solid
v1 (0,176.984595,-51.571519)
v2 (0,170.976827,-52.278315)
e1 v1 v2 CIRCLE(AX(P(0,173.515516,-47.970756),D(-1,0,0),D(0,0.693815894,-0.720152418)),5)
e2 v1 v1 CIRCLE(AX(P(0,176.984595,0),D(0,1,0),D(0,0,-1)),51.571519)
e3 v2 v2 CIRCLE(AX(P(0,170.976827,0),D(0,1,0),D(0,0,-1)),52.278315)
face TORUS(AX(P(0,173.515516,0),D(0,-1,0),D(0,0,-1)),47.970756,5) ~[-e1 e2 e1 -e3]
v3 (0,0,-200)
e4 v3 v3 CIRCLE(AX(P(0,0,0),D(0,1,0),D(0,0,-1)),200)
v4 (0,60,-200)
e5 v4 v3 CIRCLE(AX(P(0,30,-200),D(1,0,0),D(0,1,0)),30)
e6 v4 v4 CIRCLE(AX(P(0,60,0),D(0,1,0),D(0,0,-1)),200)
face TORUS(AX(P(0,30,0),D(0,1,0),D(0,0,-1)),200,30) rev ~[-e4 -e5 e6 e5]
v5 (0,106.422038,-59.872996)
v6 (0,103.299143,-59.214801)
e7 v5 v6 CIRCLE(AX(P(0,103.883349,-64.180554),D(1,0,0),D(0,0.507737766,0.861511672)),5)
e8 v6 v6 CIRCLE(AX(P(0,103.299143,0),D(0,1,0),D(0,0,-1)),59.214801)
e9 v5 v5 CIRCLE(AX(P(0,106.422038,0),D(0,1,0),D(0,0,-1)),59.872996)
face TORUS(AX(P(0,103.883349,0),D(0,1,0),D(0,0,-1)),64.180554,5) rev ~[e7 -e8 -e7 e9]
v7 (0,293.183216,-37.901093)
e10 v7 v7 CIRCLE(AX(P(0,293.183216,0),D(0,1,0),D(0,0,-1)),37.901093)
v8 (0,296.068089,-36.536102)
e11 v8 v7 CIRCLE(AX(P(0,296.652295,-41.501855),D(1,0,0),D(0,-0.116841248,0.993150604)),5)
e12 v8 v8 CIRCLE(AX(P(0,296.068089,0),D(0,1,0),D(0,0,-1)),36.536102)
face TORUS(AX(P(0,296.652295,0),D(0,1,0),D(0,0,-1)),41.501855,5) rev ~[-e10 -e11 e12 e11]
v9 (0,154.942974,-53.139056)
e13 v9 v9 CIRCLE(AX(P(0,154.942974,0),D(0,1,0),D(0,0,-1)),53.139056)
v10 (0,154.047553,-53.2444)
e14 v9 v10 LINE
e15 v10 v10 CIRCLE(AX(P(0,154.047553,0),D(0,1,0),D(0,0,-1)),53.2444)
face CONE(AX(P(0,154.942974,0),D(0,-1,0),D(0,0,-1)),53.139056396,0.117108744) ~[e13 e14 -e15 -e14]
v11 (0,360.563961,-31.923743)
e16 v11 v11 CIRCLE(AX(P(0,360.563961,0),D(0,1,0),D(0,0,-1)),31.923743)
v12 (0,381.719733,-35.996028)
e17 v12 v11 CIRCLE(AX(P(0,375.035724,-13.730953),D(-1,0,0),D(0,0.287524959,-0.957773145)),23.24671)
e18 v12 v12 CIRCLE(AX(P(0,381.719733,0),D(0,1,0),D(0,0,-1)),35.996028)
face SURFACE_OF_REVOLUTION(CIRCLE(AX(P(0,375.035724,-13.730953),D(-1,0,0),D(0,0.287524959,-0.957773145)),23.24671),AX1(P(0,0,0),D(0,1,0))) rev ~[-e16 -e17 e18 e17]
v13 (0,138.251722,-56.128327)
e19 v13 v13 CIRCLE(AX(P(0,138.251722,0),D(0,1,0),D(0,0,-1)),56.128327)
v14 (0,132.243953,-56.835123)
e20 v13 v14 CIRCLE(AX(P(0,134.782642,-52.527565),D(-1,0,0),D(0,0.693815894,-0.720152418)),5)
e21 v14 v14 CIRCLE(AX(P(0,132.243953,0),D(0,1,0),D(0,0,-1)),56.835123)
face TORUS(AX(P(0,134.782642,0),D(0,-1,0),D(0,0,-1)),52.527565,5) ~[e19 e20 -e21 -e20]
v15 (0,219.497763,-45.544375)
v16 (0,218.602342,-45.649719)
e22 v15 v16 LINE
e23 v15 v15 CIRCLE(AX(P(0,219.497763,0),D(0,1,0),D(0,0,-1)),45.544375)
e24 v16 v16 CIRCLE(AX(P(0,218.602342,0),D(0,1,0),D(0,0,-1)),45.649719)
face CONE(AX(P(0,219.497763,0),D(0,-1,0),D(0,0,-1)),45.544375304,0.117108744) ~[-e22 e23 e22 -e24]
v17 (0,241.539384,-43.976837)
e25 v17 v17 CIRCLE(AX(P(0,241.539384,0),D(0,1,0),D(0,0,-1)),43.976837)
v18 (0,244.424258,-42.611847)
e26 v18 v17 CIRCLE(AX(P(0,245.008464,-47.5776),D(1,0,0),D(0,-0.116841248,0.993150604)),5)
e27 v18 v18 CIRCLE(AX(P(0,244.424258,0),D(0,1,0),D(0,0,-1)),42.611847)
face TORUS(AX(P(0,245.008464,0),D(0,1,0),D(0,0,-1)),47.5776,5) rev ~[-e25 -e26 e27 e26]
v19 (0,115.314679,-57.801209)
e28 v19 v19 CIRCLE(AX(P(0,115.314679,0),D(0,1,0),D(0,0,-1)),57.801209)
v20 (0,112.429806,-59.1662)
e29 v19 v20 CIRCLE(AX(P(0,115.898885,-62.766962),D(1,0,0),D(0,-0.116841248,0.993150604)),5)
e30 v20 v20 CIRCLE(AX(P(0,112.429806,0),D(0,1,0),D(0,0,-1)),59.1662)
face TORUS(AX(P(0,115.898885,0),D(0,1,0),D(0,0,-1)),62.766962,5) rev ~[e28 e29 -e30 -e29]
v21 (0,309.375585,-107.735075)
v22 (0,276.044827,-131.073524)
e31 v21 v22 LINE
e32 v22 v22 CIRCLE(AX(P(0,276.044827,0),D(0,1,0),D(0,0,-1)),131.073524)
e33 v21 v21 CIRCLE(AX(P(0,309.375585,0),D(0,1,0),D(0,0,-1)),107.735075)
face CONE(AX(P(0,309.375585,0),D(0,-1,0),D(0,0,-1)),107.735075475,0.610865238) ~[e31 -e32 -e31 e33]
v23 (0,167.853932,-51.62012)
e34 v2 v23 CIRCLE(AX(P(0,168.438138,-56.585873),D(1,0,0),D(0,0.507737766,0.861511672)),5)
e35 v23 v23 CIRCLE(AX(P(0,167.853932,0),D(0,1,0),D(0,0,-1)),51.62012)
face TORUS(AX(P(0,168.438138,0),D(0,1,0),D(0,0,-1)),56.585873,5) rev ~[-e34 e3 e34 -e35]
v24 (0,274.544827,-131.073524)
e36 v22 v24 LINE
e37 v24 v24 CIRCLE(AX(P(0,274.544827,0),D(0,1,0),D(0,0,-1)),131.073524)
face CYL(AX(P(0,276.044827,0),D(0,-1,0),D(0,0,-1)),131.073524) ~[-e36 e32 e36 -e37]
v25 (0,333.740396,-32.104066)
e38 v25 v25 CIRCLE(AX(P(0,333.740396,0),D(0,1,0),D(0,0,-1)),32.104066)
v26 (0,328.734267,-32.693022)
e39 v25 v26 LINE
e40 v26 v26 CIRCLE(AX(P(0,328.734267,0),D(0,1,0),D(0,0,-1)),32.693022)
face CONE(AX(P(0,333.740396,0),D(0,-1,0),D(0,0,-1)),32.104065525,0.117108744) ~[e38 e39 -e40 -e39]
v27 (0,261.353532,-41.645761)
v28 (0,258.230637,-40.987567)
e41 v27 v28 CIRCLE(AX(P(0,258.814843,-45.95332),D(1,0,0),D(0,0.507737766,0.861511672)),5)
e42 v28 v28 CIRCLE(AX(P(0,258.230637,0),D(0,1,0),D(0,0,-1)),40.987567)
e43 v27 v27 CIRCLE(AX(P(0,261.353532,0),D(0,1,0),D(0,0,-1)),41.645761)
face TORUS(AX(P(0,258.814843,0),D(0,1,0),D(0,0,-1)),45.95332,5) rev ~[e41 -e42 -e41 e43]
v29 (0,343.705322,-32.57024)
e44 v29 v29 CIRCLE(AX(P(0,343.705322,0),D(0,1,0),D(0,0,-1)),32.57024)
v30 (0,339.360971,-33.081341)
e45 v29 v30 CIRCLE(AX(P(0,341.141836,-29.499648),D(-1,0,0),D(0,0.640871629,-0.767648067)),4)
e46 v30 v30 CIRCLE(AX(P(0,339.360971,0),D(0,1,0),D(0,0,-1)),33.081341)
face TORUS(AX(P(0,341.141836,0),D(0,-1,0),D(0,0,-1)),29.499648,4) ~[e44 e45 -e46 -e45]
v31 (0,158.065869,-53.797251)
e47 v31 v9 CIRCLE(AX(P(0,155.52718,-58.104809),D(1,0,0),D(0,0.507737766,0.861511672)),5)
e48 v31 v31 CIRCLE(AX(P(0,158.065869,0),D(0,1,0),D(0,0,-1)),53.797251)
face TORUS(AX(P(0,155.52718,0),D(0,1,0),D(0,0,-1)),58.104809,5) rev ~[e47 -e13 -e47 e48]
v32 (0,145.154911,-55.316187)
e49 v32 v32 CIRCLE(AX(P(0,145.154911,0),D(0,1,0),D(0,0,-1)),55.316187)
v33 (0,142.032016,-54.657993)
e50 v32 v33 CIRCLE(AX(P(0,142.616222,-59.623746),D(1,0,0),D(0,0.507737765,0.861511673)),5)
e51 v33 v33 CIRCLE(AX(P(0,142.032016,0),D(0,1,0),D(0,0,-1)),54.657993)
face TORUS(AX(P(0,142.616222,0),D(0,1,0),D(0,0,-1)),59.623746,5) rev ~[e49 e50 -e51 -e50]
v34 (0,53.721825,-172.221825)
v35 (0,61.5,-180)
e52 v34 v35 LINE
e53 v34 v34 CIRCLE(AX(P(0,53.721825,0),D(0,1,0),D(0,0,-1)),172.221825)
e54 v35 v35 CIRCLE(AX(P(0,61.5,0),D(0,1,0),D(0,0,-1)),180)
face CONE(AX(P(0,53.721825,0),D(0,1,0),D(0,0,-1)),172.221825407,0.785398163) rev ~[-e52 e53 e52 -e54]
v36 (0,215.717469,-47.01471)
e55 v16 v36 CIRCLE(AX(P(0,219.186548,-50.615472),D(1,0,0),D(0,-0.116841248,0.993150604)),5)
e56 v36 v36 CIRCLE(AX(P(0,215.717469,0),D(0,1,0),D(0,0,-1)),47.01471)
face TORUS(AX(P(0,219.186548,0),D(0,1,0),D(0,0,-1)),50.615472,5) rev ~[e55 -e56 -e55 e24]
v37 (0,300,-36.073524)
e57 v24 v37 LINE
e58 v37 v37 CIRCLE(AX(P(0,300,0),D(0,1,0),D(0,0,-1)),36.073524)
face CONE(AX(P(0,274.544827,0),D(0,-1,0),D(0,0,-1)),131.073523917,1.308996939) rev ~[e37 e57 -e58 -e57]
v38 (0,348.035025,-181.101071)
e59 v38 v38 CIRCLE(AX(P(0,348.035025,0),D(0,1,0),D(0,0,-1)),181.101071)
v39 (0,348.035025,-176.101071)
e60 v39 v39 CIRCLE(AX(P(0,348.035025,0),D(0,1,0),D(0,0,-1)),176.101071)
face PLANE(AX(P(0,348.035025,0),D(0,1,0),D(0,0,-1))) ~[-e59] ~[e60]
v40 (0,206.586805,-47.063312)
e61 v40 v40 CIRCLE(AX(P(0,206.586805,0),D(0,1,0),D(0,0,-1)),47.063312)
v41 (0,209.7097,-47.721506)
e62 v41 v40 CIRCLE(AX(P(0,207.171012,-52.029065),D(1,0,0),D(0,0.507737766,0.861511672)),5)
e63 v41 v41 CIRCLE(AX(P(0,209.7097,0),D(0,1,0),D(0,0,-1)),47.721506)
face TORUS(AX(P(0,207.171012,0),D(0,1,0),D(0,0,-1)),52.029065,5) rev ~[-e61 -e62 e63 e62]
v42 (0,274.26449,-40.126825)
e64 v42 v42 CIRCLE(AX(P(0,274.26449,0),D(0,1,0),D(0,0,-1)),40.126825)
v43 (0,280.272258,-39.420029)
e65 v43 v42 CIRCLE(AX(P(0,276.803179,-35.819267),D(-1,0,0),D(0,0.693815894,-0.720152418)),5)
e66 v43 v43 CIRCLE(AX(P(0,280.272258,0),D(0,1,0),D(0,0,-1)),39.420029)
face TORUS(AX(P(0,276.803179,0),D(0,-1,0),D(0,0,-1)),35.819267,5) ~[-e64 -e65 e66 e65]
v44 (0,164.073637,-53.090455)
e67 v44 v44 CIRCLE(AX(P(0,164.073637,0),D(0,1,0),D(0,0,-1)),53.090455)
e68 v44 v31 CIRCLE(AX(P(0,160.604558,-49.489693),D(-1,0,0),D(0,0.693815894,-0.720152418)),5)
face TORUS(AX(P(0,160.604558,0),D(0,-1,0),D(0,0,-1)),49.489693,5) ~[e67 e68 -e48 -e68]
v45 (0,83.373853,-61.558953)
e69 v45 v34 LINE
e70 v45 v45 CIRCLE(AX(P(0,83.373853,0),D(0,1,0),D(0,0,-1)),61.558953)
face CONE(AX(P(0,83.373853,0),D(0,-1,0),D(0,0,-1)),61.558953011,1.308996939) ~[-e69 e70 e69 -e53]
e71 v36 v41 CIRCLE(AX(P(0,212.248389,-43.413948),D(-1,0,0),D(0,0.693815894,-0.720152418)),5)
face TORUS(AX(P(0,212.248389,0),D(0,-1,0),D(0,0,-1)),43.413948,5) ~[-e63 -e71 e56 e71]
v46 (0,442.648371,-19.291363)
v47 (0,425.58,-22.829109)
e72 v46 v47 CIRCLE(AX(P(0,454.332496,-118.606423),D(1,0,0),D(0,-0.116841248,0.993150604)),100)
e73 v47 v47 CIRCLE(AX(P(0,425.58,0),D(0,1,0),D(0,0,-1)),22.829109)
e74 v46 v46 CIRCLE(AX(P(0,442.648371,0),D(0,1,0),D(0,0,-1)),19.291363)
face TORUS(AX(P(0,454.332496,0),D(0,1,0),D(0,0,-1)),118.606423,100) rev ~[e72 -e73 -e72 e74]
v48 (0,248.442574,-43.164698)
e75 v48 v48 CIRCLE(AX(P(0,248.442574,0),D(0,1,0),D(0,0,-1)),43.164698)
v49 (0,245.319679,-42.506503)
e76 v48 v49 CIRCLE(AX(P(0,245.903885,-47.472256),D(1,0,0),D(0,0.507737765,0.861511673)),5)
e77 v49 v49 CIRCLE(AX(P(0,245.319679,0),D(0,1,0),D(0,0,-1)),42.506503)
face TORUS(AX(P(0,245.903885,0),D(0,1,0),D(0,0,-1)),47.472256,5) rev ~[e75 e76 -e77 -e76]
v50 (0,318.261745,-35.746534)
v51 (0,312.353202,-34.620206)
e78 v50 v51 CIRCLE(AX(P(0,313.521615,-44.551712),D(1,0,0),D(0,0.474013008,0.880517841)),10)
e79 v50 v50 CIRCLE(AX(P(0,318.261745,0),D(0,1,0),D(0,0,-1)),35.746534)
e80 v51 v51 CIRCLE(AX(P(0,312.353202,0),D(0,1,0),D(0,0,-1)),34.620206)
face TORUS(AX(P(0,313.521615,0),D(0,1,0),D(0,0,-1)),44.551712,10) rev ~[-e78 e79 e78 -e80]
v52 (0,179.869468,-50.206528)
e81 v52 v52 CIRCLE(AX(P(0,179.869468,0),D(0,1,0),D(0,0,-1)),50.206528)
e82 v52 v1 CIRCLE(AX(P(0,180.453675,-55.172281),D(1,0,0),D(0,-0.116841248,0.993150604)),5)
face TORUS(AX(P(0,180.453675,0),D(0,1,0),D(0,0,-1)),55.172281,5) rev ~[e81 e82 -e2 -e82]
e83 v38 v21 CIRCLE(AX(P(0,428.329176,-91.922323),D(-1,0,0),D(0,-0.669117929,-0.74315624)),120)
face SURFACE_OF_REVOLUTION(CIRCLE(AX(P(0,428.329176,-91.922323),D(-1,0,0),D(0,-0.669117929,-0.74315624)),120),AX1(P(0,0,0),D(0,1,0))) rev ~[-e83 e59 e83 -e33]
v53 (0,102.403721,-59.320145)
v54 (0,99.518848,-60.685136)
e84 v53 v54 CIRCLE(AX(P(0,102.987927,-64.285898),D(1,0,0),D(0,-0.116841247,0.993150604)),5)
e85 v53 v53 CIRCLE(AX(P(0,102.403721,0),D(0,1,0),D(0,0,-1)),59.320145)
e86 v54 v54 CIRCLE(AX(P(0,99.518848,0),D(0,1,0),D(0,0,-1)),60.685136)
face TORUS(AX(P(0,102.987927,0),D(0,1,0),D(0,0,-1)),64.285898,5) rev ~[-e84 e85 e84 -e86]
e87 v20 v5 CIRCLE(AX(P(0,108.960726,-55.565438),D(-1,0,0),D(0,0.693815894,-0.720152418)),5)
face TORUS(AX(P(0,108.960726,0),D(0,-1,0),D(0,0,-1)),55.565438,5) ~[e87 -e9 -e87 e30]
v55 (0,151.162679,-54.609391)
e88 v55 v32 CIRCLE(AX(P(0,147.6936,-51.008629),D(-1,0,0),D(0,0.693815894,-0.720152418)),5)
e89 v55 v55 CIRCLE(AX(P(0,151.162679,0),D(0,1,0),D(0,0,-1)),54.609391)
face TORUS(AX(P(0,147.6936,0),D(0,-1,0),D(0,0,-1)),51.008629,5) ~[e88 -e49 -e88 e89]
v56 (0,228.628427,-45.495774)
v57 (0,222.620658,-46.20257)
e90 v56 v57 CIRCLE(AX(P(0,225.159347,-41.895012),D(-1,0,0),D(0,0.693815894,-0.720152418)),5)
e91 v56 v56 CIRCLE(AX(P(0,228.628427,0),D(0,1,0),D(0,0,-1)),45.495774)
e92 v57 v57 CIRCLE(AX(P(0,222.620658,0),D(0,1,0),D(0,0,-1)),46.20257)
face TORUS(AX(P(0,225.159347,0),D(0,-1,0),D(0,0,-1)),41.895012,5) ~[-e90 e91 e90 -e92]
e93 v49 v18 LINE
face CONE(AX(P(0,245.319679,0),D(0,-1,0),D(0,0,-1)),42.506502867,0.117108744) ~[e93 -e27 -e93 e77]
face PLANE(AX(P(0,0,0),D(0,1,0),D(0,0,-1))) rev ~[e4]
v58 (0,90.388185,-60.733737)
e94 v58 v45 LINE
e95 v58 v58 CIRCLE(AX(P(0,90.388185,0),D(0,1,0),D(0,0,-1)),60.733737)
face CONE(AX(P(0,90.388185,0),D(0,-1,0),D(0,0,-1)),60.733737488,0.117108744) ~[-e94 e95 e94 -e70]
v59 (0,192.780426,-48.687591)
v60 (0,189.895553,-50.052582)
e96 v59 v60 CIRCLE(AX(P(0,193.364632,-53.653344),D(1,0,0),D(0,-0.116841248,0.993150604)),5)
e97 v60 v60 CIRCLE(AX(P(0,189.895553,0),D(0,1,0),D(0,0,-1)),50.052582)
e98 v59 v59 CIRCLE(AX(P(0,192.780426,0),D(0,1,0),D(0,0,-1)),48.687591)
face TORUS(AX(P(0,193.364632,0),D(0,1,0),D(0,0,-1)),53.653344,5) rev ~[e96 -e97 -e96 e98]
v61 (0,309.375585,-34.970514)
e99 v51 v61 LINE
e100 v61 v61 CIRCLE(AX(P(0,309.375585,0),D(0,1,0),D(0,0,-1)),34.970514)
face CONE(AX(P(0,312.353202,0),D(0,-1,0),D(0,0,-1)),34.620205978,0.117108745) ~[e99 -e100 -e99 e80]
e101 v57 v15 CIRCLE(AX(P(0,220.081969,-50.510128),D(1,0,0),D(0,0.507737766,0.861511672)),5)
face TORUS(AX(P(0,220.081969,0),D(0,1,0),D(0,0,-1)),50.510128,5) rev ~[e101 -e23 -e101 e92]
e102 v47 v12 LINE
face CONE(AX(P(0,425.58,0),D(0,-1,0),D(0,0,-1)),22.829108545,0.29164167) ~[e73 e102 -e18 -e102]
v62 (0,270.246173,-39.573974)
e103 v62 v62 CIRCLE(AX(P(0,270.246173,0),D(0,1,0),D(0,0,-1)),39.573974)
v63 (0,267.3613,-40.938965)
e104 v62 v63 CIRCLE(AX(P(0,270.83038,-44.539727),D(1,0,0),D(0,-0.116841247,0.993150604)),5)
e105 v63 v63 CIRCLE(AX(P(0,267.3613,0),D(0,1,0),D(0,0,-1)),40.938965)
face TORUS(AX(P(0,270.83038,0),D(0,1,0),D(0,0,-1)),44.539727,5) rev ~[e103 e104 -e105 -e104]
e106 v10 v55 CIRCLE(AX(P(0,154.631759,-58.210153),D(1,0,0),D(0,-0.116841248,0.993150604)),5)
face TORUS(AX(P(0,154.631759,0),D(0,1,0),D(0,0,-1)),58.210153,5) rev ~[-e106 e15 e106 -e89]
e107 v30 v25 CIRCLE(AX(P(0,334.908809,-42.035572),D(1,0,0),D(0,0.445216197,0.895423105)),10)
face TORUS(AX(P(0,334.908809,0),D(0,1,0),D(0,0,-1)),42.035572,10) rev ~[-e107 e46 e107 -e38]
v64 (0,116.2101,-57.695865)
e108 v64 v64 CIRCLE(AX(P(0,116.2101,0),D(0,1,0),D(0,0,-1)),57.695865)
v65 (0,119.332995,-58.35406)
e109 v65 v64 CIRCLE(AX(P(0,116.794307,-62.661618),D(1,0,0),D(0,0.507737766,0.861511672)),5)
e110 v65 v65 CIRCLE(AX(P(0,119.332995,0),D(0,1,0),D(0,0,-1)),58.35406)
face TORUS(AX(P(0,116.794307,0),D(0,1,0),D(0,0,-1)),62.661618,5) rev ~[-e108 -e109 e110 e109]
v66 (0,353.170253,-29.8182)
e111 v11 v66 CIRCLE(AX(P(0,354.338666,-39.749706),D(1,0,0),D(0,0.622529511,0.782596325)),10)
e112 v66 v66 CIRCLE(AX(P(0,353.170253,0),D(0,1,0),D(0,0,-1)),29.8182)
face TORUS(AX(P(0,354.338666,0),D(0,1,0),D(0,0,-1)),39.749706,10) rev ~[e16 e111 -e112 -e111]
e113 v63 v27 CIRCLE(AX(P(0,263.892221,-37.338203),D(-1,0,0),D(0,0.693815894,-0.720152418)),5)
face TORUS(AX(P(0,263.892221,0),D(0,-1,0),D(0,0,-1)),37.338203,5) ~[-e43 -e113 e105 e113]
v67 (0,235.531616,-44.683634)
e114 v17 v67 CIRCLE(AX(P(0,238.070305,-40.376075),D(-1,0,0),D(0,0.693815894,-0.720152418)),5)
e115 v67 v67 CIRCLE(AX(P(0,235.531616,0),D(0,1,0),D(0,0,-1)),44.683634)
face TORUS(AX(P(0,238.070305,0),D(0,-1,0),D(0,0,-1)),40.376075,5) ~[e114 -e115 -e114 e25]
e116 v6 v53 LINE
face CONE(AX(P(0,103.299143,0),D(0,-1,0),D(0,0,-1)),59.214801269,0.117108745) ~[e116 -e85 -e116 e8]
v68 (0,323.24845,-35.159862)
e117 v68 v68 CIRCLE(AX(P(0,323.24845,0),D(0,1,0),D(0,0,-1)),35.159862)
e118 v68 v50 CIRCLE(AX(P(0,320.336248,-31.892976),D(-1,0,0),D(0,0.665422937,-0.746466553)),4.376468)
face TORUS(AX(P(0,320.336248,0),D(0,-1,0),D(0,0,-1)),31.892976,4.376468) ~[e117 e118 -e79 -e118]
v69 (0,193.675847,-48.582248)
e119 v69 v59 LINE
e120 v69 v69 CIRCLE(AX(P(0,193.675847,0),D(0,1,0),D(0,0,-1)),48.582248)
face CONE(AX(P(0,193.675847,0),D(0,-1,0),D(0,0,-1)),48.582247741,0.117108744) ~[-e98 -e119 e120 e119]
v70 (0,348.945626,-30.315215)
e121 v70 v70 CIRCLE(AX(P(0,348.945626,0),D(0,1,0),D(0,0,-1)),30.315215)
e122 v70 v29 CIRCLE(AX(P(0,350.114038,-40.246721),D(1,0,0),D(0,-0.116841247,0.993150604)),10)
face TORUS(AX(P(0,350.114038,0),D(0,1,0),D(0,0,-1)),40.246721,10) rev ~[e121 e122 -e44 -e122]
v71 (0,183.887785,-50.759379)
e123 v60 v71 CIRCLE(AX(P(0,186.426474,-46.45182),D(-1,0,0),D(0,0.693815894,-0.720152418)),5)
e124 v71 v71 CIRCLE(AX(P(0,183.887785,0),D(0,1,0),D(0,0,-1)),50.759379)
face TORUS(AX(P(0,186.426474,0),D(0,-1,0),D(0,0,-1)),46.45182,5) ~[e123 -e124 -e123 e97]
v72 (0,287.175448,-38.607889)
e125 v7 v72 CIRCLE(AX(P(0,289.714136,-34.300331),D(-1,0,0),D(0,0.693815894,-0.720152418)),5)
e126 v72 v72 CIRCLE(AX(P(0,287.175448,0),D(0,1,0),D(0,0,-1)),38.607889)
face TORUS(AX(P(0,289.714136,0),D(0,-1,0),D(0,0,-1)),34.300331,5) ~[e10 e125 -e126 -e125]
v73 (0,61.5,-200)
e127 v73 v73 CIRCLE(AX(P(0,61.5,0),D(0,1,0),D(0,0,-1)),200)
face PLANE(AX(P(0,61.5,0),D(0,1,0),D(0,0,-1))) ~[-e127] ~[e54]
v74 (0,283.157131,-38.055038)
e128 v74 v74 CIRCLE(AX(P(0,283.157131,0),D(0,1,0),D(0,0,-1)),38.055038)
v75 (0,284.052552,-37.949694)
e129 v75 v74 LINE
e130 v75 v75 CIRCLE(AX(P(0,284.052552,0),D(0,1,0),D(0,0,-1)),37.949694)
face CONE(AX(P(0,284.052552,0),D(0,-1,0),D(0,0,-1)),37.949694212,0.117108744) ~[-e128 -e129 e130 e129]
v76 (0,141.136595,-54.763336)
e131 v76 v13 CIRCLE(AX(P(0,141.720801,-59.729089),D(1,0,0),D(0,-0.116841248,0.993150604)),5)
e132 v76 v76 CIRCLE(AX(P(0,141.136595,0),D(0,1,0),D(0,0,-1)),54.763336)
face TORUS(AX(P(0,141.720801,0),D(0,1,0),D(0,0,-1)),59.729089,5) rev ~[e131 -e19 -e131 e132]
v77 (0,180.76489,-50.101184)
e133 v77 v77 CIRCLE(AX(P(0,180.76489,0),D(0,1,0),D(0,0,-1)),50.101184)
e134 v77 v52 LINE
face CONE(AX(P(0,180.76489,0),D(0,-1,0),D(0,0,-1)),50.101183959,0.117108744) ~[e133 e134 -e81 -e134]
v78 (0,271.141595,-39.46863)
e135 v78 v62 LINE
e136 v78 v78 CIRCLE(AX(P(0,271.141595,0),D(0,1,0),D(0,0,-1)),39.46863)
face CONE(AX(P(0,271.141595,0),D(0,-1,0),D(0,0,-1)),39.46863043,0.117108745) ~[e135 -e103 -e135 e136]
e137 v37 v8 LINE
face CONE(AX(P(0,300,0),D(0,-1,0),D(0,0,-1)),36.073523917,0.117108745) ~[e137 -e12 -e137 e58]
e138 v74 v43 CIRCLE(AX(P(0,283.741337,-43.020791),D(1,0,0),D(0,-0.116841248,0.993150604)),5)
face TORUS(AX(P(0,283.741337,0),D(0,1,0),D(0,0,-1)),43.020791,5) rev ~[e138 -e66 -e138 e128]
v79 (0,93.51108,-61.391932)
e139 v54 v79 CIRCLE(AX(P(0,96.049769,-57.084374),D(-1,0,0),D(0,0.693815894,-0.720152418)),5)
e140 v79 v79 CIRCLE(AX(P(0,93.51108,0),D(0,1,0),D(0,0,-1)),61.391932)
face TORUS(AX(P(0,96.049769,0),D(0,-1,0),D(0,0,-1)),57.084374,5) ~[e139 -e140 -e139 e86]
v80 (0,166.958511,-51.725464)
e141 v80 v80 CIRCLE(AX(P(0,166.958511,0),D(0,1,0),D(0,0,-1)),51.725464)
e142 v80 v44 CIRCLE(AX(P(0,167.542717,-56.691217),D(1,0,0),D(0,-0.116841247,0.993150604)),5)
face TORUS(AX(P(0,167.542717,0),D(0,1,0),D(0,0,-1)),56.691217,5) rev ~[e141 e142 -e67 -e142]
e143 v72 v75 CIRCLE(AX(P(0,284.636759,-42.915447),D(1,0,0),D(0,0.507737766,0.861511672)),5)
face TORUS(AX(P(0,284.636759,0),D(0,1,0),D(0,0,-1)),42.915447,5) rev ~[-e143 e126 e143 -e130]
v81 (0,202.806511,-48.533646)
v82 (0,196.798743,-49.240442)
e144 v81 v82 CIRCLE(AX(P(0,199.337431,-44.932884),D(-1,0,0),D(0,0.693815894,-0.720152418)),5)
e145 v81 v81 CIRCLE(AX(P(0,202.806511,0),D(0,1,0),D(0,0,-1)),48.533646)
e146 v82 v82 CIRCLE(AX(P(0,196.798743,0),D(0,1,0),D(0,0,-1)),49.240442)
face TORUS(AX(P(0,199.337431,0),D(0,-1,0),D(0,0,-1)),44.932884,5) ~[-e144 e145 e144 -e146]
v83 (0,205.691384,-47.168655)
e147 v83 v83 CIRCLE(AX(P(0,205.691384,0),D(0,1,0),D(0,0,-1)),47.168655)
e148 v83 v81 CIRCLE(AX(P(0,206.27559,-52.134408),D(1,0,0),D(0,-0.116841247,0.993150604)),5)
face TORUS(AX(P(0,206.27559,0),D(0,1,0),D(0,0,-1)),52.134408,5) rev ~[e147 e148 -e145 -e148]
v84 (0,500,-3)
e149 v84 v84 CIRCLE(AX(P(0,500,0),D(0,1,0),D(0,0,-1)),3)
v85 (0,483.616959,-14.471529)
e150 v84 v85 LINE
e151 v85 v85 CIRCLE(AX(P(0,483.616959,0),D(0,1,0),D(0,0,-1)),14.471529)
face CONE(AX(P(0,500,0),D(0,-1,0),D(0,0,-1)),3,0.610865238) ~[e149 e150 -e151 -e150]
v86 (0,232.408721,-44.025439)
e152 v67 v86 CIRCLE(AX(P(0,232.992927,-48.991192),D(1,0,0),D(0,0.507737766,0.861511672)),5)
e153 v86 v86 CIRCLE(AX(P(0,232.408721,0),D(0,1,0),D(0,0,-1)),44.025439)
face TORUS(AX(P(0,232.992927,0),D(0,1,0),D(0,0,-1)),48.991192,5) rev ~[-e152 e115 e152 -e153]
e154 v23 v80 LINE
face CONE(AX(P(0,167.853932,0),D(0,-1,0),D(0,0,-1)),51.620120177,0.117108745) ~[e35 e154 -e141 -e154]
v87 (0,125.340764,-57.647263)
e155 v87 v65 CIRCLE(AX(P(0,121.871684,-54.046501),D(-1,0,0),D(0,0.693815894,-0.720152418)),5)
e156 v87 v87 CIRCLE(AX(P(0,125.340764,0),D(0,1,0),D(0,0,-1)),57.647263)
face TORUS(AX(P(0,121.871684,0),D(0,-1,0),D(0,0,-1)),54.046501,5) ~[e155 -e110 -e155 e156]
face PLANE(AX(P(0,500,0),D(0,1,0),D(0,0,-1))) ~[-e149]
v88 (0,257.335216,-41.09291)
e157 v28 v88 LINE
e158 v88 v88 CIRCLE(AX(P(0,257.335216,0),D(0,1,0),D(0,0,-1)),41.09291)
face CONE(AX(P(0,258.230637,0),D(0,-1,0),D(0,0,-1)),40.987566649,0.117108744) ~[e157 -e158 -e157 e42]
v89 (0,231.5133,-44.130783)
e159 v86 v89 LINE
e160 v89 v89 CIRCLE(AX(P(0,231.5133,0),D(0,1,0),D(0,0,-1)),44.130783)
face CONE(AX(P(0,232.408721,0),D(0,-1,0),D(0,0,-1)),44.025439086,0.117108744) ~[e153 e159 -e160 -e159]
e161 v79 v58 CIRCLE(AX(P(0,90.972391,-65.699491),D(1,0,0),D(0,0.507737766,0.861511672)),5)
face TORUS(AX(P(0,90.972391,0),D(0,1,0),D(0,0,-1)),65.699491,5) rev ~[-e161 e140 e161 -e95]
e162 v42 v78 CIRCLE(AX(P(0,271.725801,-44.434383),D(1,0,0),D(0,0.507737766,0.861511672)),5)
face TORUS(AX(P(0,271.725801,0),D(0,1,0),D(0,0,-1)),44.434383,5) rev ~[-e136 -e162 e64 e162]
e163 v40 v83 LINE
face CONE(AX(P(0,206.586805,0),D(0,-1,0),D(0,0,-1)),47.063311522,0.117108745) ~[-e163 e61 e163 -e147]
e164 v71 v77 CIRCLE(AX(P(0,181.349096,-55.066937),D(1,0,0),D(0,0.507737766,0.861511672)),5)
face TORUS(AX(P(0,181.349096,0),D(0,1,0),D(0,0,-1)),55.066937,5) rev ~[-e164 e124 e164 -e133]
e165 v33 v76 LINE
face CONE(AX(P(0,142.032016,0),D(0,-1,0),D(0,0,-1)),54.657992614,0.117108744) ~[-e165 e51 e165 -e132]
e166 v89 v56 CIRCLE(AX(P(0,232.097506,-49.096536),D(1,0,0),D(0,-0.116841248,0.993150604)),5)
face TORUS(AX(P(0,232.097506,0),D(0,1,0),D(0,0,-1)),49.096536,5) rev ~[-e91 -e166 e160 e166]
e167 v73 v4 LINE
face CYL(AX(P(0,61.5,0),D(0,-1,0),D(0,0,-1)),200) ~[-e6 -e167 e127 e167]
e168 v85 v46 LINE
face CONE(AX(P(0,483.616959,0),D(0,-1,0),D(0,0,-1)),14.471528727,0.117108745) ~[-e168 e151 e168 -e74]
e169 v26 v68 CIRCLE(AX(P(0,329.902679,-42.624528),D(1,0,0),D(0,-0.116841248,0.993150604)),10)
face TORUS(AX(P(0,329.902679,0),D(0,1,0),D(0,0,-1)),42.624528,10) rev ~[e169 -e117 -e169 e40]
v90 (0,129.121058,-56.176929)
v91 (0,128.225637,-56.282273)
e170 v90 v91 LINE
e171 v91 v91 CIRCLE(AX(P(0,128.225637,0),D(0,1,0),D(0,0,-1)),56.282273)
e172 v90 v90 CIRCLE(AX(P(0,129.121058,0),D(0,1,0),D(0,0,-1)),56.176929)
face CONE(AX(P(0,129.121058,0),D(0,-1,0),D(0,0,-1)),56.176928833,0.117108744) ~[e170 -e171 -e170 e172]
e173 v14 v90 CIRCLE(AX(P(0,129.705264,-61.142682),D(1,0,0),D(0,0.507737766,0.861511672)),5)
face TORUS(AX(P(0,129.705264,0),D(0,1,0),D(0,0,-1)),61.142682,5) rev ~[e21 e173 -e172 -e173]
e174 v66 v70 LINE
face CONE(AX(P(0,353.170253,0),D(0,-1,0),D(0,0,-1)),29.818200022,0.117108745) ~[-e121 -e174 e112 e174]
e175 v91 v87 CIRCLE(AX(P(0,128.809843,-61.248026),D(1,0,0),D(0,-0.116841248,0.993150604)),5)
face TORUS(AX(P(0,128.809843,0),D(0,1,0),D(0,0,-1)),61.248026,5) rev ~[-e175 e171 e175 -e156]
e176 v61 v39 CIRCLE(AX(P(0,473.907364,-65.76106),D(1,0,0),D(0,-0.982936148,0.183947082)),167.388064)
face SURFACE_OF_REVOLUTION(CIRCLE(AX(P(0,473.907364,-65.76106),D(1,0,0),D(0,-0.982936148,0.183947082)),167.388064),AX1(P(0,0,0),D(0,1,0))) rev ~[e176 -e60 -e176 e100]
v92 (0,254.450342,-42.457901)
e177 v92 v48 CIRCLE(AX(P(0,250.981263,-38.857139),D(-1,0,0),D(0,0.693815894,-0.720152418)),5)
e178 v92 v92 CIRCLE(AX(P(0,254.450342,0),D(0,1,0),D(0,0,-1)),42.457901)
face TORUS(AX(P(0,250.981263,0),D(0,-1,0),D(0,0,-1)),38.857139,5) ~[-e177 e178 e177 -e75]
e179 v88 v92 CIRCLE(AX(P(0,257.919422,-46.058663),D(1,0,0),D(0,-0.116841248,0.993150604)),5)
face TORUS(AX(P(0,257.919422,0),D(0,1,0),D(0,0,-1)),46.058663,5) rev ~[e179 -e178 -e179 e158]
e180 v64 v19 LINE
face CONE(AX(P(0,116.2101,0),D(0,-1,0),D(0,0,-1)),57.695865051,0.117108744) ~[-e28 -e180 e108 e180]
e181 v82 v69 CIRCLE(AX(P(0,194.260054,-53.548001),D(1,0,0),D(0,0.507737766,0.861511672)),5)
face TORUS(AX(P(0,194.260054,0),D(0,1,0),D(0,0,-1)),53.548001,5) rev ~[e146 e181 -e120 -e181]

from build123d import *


with BuildPart() as part:
    # Sketch1 → Revolve3 (revolve)
    with BuildSketch(Plane.XY, mode=Mode.PRIVATE) as revolve3_sk:
        with BuildLine():
            Line((0, 0), (0, 500))
            Line((0, 500), (3, 500))
            Line((3, 500), (14.471528727, 483.616959114))
            Line((14.471528727, 483.616959114), (19.291362646, 442.648370803))
            ThreePointArc((19.291362646, 442.648370803), (20.687625006, 434.036954568), (22.829108545, 425.579999653))
            Line((22.829108545, 425.579999653), (35.996027532, 381.719732868))
            ThreePointArc((35.996027532, 381.719732868), (36.558597905, 370.641619324), (31.923742819, 360.563960694))
            ThreePointArc((31.923742819, 360.563960694), (30.132083861, 357.077523576), (29.818200022, 353.170253104))
            Line((29.818200022, 353.170253104), (30.315214989, 348.945625892))
            ThreePointArc((30.315214989, 348.945625892), (31.061107548, 346.161253914), (32.570240359, 343.705322078))
            ThreePointArc((32.570240359, 343.705322078), (33.472250507, 341.609200553), (33.081340512, 339.360970775))
            ThreePointArc((33.081340512, 339.360970775), (32.183390047, 336.621852672), (32.104065525, 333.740396331))
            Line((32.104065525, 333.740396331), (32.693021944, 328.734266766))
            ThreePointArc((32.693021944, 328.734266766), (33.504207647, 325.801489551), (35.159862456, 323.248449873))
            ThreePointArc((35.159862456, 323.248449873), (36.239467286, 320.847599721), (35.746533613, 318.261745039))
            ThreePointArc((35.746533613, 318.261745039), (34.728598724, 315.394165397), (34.620205978, 312.353202482))
            Line((34.620205978, 312.353202482), (34.970513877, 309.375585342))
            ThreePointArc((34.970513877, 309.375585342), (109.983988751, 312.466673771), (176.101071488, 348.035025023))
            Line((176.101071488, 348.035025023), (181.101071488, 348.035025023))
            ThreePointArc((181.101071488, 348.035025023), (147.863737761, 322.166291841), (107.735075475, 309.375585342))
            Line((107.735075475, 309.375585342), (131.073523917, 276.044826719))
            Line((131.073523917, 276.044826719), (131.073523917, 274.544826719))
            Line((131.073523917, 274.544826719), (36.073523917, 300))
            Line((36.073523917, 300), (36.536101671, 296.068089091))
            ThreePointArc((36.536101671, 296.068089091), (36.982239811, 294.513818927), (37.901092603, 293.183215858))
            ThreePointArc((37.901092603, 293.183215858), (39.266083535, 290.298342626), (38.607888873, 287.175447558))
            ThreePointArc((38.607888873, 287.175447558), (38.022933115, 285.667925836), (37.949694212, 284.052552491))
            Line((37.949694212, 284.052552491), (38.055037889, 283.157131235))
            ThreePointArc((38.055037889, 283.157131235), (38.501176029, 281.602861071), (39.420028821, 280.272258002))
            ThreePointArc((39.420028821, 280.272258002), (40.785019753, 277.387384769), (40.126825092, 274.264489702))
            ThreePointArc((40.126825092, 274.264489702), (39.541869334, 272.75696798), (39.46863043, 271.141594635))
            Line((39.46863043, 271.141594635), (39.573974108, 270.246173378))
            ThreePointArc((39.573974108, 270.246173378), (40.020112247, 268.691903215), (40.93896504, 267.361300146))
            ThreePointArc((40.93896504, 267.361300146), (42.303955971, 264.476426913), (41.64576131, 261.353531846))
            ThreePointArc((41.64576131, 261.353531846), (41.060805552, 259.846010124), (40.987566649, 258.230636779))
            Line((40.987566649, 258.230636779), (41.092910326, 257.335215522))
            ThreePointArc((41.092910326, 257.335215522), (41.539048466, 255.780945359), (42.457901258, 254.45034229))
            ThreePointArc((42.457901258, 254.45034229), (43.82289219, 251.565469057), (43.164697528, 248.44257399))
            ThreePointArc((43.164697528, 248.44257399), (42.579741771, 246.935052268), (42.506502867, 245.319678923))
            Line((42.506502867, 245.319678923), (42.611846544, 244.424257666))
            ThreePointArc((42.611846544, 244.424257666), (43.057984684, 242.869987503), (43.976837476, 241.539384433))
            ThreePointArc((43.976837476, 241.539384433), (45.341828408, 238.654511201), (44.683633747, 235.531616134))
            ThreePointArc((44.683633747, 235.531616134), (44.098677989, 234.024094412), (44.025439086, 232.408721067))
            Line((44.025439086, 232.408721067), (44.130782763, 231.51329981))
            ThreePointArc((44.130782763, 231.51329981), (44.576920903, 229.959029646), (45.495773695, 228.628426577))
            ThreePointArc((45.495773695, 228.628426577), (46.860764626, 225.743553345), (46.202569965, 222.620658277))
            ThreePointArc((46.202569965, 222.620658277), (45.617614207, 221.113136555), (45.544375304, 219.49776321))
            Line((45.544375304, 219.49776321), (45.649718981, 218.602341954))
            ThreePointArc((45.649718981, 218.602341954), (46.095857121, 217.04807179), (47.014709913, 215.717468721))
            ThreePointArc((47.014709913, 215.717468721), (48.379700845, 212.832595488), (47.721506184, 209.709700421))
            ThreePointArc((47.721506184, 209.709700421), (47.136550426, 208.202178699), (47.063311522, 206.586805354))
            Line((47.063311522, 206.586805354), (47.1686552, 205.691384097))
            ThreePointArc((47.1686552, 205.691384097), (47.614793339, 204.137113934), (48.533646131, 202.806510865))
            ThreePointArc((48.533646131, 202.806510865), (49.898637063, 199.921637632), (49.240442402, 196.798742565))
            ThreePointArc((49.240442402, 196.798742565), (48.655486644, 195.291220843), (48.582247741, 193.675847498))
            Line((48.582247741, 193.675847498), (48.687591418, 192.780426241))
            ThreePointArc((48.687591418, 192.780426241), (49.133729558, 191.226156078), (50.05258235, 189.895553009))
            ThreePointArc((50.05258235, 189.895553009), (51.417573282, 187.010679776), (50.75937862, 183.887784709))
            ThreePointArc((50.75937862, 183.887784709), (50.174422862, 182.380262987), (50.101183959, 180.764889642))
            Line((50.101183959, 180.764889642), (50.206527636, 179.869468385))
            ThreePointArc((50.206527636, 179.869468385), (50.652665776, 178.315198222), (51.571518568, 176.984595152))
            ThreePointArc((51.571518568, 176.984595152), (52.9365095, 174.09972192), (52.278314839, 170.976826853))
            ThreePointArc((52.278314839, 170.976826853), (51.693359081, 169.469305131), (51.620120177, 167.853931786))
            Line((51.620120177, 167.853931786), (51.725463855, 166.958510529))
            ThreePointArc((51.725463855, 166.958510529), (52.171601994, 165.404240365), (53.090454787, 164.073637296))
            ThreePointArc((53.090454787, 164.073637296), (54.455445718, 161.188764064), (53.797251057, 158.065868996))
            ThreePointArc((53.797251057, 158.065868996), (53.212295299, 156.558347274), (53.139056396, 154.942973929))
            Line((53.139056396, 154.942973929), (53.244400073, 154.047552673))
            ThreePointArc((53.244400073, 154.047552673), (53.690538213, 152.493282509), (54.609391005, 151.16267944))
            ThreePointArc((54.609391005, 151.16267944), (55.974381937, 148.277806207), (55.316187275, 145.15491114))
            ThreePointArc((55.316187275, 145.15491114), (54.731231518, 143.647389418), (54.657992614, 142.032016073))
            Line((54.657992614, 142.032016073), (54.763336291, 141.136594817))
            ThreePointArc((54.763336291, 141.136594817), (55.209474431, 139.582324653), (56.128327223, 138.251721584))
            ThreePointArc((56.128327223, 138.251721584), (57.493318155, 135.366848351), (56.835123494, 132.243953284))
            ThreePointArc((56.835123494, 132.243953284), (56.250167736, 130.736431562), (56.176928833, 129.121058217))
            Line((56.176928833, 129.121058217), (56.28227251, 128.22563696))
            ThreePointArc((56.28227251, 128.22563696), (56.72841065, 126.671366797), (57.647263442, 125.340763728))
            ThreePointArc((57.647263442, 125.340763728), (59.012254373, 122.455890495), (58.354059712, 119.332995428))
            ThreePointArc((58.354059712, 119.332995428), (57.769103954, 117.825473706), (57.695865051, 116.210100361))
            Line((57.695865051, 116.210100361), (57.801208728, 115.314679104))
            ThreePointArc((57.801208728, 115.314679104), (58.247346868, 113.760408941), (59.16619966, 112.429805871))
            ThreePointArc((59.16619966, 112.429805871), (60.531190592, 109.544932639), (59.872995931, 106.422037572))
            ThreePointArc((59.872995931, 106.422037572), (59.288040173, 104.91451585), (59.214801269, 103.299142505))
            Line((59.214801269, 103.299142505), (59.320144947, 102.403721248))
            ThreePointArc((59.320144947, 102.403721248), (59.766283086, 100.849451084), (60.685135878, 99.518848015))
            ThreePointArc((60.685135878, 99.518848015), (62.05012681, 96.633974783), (61.391932149, 93.511079715))
            ThreePointArc((61.391932149, 93.511079715), (60.806976391, 92.003557993), (60.733737488, 90.388184648))
            Line((60.733737488, 90.388184648), (61.558953011, 83.373852697))
            Line((61.558953011, 83.373852697), (172.221825407, 53.721825407))
            Line((172.221825407, 53.721825407), (180, 61.5))
            Line((180, 61.5), (200, 61.5))
            Line((200, 61.5), (200, 60))
            ThreePointArc((200, 60), (170, 30), (200, 0))
            Line((200, 0), (0, 0))
        make_face()
    revolve(revolve3_sk.sketch.rotate(Axis((0, 0, 0), (0, 1, 0)), 90), axis=Axis((0, 0, 0), (0, 1, 0)))


solid = part.part
